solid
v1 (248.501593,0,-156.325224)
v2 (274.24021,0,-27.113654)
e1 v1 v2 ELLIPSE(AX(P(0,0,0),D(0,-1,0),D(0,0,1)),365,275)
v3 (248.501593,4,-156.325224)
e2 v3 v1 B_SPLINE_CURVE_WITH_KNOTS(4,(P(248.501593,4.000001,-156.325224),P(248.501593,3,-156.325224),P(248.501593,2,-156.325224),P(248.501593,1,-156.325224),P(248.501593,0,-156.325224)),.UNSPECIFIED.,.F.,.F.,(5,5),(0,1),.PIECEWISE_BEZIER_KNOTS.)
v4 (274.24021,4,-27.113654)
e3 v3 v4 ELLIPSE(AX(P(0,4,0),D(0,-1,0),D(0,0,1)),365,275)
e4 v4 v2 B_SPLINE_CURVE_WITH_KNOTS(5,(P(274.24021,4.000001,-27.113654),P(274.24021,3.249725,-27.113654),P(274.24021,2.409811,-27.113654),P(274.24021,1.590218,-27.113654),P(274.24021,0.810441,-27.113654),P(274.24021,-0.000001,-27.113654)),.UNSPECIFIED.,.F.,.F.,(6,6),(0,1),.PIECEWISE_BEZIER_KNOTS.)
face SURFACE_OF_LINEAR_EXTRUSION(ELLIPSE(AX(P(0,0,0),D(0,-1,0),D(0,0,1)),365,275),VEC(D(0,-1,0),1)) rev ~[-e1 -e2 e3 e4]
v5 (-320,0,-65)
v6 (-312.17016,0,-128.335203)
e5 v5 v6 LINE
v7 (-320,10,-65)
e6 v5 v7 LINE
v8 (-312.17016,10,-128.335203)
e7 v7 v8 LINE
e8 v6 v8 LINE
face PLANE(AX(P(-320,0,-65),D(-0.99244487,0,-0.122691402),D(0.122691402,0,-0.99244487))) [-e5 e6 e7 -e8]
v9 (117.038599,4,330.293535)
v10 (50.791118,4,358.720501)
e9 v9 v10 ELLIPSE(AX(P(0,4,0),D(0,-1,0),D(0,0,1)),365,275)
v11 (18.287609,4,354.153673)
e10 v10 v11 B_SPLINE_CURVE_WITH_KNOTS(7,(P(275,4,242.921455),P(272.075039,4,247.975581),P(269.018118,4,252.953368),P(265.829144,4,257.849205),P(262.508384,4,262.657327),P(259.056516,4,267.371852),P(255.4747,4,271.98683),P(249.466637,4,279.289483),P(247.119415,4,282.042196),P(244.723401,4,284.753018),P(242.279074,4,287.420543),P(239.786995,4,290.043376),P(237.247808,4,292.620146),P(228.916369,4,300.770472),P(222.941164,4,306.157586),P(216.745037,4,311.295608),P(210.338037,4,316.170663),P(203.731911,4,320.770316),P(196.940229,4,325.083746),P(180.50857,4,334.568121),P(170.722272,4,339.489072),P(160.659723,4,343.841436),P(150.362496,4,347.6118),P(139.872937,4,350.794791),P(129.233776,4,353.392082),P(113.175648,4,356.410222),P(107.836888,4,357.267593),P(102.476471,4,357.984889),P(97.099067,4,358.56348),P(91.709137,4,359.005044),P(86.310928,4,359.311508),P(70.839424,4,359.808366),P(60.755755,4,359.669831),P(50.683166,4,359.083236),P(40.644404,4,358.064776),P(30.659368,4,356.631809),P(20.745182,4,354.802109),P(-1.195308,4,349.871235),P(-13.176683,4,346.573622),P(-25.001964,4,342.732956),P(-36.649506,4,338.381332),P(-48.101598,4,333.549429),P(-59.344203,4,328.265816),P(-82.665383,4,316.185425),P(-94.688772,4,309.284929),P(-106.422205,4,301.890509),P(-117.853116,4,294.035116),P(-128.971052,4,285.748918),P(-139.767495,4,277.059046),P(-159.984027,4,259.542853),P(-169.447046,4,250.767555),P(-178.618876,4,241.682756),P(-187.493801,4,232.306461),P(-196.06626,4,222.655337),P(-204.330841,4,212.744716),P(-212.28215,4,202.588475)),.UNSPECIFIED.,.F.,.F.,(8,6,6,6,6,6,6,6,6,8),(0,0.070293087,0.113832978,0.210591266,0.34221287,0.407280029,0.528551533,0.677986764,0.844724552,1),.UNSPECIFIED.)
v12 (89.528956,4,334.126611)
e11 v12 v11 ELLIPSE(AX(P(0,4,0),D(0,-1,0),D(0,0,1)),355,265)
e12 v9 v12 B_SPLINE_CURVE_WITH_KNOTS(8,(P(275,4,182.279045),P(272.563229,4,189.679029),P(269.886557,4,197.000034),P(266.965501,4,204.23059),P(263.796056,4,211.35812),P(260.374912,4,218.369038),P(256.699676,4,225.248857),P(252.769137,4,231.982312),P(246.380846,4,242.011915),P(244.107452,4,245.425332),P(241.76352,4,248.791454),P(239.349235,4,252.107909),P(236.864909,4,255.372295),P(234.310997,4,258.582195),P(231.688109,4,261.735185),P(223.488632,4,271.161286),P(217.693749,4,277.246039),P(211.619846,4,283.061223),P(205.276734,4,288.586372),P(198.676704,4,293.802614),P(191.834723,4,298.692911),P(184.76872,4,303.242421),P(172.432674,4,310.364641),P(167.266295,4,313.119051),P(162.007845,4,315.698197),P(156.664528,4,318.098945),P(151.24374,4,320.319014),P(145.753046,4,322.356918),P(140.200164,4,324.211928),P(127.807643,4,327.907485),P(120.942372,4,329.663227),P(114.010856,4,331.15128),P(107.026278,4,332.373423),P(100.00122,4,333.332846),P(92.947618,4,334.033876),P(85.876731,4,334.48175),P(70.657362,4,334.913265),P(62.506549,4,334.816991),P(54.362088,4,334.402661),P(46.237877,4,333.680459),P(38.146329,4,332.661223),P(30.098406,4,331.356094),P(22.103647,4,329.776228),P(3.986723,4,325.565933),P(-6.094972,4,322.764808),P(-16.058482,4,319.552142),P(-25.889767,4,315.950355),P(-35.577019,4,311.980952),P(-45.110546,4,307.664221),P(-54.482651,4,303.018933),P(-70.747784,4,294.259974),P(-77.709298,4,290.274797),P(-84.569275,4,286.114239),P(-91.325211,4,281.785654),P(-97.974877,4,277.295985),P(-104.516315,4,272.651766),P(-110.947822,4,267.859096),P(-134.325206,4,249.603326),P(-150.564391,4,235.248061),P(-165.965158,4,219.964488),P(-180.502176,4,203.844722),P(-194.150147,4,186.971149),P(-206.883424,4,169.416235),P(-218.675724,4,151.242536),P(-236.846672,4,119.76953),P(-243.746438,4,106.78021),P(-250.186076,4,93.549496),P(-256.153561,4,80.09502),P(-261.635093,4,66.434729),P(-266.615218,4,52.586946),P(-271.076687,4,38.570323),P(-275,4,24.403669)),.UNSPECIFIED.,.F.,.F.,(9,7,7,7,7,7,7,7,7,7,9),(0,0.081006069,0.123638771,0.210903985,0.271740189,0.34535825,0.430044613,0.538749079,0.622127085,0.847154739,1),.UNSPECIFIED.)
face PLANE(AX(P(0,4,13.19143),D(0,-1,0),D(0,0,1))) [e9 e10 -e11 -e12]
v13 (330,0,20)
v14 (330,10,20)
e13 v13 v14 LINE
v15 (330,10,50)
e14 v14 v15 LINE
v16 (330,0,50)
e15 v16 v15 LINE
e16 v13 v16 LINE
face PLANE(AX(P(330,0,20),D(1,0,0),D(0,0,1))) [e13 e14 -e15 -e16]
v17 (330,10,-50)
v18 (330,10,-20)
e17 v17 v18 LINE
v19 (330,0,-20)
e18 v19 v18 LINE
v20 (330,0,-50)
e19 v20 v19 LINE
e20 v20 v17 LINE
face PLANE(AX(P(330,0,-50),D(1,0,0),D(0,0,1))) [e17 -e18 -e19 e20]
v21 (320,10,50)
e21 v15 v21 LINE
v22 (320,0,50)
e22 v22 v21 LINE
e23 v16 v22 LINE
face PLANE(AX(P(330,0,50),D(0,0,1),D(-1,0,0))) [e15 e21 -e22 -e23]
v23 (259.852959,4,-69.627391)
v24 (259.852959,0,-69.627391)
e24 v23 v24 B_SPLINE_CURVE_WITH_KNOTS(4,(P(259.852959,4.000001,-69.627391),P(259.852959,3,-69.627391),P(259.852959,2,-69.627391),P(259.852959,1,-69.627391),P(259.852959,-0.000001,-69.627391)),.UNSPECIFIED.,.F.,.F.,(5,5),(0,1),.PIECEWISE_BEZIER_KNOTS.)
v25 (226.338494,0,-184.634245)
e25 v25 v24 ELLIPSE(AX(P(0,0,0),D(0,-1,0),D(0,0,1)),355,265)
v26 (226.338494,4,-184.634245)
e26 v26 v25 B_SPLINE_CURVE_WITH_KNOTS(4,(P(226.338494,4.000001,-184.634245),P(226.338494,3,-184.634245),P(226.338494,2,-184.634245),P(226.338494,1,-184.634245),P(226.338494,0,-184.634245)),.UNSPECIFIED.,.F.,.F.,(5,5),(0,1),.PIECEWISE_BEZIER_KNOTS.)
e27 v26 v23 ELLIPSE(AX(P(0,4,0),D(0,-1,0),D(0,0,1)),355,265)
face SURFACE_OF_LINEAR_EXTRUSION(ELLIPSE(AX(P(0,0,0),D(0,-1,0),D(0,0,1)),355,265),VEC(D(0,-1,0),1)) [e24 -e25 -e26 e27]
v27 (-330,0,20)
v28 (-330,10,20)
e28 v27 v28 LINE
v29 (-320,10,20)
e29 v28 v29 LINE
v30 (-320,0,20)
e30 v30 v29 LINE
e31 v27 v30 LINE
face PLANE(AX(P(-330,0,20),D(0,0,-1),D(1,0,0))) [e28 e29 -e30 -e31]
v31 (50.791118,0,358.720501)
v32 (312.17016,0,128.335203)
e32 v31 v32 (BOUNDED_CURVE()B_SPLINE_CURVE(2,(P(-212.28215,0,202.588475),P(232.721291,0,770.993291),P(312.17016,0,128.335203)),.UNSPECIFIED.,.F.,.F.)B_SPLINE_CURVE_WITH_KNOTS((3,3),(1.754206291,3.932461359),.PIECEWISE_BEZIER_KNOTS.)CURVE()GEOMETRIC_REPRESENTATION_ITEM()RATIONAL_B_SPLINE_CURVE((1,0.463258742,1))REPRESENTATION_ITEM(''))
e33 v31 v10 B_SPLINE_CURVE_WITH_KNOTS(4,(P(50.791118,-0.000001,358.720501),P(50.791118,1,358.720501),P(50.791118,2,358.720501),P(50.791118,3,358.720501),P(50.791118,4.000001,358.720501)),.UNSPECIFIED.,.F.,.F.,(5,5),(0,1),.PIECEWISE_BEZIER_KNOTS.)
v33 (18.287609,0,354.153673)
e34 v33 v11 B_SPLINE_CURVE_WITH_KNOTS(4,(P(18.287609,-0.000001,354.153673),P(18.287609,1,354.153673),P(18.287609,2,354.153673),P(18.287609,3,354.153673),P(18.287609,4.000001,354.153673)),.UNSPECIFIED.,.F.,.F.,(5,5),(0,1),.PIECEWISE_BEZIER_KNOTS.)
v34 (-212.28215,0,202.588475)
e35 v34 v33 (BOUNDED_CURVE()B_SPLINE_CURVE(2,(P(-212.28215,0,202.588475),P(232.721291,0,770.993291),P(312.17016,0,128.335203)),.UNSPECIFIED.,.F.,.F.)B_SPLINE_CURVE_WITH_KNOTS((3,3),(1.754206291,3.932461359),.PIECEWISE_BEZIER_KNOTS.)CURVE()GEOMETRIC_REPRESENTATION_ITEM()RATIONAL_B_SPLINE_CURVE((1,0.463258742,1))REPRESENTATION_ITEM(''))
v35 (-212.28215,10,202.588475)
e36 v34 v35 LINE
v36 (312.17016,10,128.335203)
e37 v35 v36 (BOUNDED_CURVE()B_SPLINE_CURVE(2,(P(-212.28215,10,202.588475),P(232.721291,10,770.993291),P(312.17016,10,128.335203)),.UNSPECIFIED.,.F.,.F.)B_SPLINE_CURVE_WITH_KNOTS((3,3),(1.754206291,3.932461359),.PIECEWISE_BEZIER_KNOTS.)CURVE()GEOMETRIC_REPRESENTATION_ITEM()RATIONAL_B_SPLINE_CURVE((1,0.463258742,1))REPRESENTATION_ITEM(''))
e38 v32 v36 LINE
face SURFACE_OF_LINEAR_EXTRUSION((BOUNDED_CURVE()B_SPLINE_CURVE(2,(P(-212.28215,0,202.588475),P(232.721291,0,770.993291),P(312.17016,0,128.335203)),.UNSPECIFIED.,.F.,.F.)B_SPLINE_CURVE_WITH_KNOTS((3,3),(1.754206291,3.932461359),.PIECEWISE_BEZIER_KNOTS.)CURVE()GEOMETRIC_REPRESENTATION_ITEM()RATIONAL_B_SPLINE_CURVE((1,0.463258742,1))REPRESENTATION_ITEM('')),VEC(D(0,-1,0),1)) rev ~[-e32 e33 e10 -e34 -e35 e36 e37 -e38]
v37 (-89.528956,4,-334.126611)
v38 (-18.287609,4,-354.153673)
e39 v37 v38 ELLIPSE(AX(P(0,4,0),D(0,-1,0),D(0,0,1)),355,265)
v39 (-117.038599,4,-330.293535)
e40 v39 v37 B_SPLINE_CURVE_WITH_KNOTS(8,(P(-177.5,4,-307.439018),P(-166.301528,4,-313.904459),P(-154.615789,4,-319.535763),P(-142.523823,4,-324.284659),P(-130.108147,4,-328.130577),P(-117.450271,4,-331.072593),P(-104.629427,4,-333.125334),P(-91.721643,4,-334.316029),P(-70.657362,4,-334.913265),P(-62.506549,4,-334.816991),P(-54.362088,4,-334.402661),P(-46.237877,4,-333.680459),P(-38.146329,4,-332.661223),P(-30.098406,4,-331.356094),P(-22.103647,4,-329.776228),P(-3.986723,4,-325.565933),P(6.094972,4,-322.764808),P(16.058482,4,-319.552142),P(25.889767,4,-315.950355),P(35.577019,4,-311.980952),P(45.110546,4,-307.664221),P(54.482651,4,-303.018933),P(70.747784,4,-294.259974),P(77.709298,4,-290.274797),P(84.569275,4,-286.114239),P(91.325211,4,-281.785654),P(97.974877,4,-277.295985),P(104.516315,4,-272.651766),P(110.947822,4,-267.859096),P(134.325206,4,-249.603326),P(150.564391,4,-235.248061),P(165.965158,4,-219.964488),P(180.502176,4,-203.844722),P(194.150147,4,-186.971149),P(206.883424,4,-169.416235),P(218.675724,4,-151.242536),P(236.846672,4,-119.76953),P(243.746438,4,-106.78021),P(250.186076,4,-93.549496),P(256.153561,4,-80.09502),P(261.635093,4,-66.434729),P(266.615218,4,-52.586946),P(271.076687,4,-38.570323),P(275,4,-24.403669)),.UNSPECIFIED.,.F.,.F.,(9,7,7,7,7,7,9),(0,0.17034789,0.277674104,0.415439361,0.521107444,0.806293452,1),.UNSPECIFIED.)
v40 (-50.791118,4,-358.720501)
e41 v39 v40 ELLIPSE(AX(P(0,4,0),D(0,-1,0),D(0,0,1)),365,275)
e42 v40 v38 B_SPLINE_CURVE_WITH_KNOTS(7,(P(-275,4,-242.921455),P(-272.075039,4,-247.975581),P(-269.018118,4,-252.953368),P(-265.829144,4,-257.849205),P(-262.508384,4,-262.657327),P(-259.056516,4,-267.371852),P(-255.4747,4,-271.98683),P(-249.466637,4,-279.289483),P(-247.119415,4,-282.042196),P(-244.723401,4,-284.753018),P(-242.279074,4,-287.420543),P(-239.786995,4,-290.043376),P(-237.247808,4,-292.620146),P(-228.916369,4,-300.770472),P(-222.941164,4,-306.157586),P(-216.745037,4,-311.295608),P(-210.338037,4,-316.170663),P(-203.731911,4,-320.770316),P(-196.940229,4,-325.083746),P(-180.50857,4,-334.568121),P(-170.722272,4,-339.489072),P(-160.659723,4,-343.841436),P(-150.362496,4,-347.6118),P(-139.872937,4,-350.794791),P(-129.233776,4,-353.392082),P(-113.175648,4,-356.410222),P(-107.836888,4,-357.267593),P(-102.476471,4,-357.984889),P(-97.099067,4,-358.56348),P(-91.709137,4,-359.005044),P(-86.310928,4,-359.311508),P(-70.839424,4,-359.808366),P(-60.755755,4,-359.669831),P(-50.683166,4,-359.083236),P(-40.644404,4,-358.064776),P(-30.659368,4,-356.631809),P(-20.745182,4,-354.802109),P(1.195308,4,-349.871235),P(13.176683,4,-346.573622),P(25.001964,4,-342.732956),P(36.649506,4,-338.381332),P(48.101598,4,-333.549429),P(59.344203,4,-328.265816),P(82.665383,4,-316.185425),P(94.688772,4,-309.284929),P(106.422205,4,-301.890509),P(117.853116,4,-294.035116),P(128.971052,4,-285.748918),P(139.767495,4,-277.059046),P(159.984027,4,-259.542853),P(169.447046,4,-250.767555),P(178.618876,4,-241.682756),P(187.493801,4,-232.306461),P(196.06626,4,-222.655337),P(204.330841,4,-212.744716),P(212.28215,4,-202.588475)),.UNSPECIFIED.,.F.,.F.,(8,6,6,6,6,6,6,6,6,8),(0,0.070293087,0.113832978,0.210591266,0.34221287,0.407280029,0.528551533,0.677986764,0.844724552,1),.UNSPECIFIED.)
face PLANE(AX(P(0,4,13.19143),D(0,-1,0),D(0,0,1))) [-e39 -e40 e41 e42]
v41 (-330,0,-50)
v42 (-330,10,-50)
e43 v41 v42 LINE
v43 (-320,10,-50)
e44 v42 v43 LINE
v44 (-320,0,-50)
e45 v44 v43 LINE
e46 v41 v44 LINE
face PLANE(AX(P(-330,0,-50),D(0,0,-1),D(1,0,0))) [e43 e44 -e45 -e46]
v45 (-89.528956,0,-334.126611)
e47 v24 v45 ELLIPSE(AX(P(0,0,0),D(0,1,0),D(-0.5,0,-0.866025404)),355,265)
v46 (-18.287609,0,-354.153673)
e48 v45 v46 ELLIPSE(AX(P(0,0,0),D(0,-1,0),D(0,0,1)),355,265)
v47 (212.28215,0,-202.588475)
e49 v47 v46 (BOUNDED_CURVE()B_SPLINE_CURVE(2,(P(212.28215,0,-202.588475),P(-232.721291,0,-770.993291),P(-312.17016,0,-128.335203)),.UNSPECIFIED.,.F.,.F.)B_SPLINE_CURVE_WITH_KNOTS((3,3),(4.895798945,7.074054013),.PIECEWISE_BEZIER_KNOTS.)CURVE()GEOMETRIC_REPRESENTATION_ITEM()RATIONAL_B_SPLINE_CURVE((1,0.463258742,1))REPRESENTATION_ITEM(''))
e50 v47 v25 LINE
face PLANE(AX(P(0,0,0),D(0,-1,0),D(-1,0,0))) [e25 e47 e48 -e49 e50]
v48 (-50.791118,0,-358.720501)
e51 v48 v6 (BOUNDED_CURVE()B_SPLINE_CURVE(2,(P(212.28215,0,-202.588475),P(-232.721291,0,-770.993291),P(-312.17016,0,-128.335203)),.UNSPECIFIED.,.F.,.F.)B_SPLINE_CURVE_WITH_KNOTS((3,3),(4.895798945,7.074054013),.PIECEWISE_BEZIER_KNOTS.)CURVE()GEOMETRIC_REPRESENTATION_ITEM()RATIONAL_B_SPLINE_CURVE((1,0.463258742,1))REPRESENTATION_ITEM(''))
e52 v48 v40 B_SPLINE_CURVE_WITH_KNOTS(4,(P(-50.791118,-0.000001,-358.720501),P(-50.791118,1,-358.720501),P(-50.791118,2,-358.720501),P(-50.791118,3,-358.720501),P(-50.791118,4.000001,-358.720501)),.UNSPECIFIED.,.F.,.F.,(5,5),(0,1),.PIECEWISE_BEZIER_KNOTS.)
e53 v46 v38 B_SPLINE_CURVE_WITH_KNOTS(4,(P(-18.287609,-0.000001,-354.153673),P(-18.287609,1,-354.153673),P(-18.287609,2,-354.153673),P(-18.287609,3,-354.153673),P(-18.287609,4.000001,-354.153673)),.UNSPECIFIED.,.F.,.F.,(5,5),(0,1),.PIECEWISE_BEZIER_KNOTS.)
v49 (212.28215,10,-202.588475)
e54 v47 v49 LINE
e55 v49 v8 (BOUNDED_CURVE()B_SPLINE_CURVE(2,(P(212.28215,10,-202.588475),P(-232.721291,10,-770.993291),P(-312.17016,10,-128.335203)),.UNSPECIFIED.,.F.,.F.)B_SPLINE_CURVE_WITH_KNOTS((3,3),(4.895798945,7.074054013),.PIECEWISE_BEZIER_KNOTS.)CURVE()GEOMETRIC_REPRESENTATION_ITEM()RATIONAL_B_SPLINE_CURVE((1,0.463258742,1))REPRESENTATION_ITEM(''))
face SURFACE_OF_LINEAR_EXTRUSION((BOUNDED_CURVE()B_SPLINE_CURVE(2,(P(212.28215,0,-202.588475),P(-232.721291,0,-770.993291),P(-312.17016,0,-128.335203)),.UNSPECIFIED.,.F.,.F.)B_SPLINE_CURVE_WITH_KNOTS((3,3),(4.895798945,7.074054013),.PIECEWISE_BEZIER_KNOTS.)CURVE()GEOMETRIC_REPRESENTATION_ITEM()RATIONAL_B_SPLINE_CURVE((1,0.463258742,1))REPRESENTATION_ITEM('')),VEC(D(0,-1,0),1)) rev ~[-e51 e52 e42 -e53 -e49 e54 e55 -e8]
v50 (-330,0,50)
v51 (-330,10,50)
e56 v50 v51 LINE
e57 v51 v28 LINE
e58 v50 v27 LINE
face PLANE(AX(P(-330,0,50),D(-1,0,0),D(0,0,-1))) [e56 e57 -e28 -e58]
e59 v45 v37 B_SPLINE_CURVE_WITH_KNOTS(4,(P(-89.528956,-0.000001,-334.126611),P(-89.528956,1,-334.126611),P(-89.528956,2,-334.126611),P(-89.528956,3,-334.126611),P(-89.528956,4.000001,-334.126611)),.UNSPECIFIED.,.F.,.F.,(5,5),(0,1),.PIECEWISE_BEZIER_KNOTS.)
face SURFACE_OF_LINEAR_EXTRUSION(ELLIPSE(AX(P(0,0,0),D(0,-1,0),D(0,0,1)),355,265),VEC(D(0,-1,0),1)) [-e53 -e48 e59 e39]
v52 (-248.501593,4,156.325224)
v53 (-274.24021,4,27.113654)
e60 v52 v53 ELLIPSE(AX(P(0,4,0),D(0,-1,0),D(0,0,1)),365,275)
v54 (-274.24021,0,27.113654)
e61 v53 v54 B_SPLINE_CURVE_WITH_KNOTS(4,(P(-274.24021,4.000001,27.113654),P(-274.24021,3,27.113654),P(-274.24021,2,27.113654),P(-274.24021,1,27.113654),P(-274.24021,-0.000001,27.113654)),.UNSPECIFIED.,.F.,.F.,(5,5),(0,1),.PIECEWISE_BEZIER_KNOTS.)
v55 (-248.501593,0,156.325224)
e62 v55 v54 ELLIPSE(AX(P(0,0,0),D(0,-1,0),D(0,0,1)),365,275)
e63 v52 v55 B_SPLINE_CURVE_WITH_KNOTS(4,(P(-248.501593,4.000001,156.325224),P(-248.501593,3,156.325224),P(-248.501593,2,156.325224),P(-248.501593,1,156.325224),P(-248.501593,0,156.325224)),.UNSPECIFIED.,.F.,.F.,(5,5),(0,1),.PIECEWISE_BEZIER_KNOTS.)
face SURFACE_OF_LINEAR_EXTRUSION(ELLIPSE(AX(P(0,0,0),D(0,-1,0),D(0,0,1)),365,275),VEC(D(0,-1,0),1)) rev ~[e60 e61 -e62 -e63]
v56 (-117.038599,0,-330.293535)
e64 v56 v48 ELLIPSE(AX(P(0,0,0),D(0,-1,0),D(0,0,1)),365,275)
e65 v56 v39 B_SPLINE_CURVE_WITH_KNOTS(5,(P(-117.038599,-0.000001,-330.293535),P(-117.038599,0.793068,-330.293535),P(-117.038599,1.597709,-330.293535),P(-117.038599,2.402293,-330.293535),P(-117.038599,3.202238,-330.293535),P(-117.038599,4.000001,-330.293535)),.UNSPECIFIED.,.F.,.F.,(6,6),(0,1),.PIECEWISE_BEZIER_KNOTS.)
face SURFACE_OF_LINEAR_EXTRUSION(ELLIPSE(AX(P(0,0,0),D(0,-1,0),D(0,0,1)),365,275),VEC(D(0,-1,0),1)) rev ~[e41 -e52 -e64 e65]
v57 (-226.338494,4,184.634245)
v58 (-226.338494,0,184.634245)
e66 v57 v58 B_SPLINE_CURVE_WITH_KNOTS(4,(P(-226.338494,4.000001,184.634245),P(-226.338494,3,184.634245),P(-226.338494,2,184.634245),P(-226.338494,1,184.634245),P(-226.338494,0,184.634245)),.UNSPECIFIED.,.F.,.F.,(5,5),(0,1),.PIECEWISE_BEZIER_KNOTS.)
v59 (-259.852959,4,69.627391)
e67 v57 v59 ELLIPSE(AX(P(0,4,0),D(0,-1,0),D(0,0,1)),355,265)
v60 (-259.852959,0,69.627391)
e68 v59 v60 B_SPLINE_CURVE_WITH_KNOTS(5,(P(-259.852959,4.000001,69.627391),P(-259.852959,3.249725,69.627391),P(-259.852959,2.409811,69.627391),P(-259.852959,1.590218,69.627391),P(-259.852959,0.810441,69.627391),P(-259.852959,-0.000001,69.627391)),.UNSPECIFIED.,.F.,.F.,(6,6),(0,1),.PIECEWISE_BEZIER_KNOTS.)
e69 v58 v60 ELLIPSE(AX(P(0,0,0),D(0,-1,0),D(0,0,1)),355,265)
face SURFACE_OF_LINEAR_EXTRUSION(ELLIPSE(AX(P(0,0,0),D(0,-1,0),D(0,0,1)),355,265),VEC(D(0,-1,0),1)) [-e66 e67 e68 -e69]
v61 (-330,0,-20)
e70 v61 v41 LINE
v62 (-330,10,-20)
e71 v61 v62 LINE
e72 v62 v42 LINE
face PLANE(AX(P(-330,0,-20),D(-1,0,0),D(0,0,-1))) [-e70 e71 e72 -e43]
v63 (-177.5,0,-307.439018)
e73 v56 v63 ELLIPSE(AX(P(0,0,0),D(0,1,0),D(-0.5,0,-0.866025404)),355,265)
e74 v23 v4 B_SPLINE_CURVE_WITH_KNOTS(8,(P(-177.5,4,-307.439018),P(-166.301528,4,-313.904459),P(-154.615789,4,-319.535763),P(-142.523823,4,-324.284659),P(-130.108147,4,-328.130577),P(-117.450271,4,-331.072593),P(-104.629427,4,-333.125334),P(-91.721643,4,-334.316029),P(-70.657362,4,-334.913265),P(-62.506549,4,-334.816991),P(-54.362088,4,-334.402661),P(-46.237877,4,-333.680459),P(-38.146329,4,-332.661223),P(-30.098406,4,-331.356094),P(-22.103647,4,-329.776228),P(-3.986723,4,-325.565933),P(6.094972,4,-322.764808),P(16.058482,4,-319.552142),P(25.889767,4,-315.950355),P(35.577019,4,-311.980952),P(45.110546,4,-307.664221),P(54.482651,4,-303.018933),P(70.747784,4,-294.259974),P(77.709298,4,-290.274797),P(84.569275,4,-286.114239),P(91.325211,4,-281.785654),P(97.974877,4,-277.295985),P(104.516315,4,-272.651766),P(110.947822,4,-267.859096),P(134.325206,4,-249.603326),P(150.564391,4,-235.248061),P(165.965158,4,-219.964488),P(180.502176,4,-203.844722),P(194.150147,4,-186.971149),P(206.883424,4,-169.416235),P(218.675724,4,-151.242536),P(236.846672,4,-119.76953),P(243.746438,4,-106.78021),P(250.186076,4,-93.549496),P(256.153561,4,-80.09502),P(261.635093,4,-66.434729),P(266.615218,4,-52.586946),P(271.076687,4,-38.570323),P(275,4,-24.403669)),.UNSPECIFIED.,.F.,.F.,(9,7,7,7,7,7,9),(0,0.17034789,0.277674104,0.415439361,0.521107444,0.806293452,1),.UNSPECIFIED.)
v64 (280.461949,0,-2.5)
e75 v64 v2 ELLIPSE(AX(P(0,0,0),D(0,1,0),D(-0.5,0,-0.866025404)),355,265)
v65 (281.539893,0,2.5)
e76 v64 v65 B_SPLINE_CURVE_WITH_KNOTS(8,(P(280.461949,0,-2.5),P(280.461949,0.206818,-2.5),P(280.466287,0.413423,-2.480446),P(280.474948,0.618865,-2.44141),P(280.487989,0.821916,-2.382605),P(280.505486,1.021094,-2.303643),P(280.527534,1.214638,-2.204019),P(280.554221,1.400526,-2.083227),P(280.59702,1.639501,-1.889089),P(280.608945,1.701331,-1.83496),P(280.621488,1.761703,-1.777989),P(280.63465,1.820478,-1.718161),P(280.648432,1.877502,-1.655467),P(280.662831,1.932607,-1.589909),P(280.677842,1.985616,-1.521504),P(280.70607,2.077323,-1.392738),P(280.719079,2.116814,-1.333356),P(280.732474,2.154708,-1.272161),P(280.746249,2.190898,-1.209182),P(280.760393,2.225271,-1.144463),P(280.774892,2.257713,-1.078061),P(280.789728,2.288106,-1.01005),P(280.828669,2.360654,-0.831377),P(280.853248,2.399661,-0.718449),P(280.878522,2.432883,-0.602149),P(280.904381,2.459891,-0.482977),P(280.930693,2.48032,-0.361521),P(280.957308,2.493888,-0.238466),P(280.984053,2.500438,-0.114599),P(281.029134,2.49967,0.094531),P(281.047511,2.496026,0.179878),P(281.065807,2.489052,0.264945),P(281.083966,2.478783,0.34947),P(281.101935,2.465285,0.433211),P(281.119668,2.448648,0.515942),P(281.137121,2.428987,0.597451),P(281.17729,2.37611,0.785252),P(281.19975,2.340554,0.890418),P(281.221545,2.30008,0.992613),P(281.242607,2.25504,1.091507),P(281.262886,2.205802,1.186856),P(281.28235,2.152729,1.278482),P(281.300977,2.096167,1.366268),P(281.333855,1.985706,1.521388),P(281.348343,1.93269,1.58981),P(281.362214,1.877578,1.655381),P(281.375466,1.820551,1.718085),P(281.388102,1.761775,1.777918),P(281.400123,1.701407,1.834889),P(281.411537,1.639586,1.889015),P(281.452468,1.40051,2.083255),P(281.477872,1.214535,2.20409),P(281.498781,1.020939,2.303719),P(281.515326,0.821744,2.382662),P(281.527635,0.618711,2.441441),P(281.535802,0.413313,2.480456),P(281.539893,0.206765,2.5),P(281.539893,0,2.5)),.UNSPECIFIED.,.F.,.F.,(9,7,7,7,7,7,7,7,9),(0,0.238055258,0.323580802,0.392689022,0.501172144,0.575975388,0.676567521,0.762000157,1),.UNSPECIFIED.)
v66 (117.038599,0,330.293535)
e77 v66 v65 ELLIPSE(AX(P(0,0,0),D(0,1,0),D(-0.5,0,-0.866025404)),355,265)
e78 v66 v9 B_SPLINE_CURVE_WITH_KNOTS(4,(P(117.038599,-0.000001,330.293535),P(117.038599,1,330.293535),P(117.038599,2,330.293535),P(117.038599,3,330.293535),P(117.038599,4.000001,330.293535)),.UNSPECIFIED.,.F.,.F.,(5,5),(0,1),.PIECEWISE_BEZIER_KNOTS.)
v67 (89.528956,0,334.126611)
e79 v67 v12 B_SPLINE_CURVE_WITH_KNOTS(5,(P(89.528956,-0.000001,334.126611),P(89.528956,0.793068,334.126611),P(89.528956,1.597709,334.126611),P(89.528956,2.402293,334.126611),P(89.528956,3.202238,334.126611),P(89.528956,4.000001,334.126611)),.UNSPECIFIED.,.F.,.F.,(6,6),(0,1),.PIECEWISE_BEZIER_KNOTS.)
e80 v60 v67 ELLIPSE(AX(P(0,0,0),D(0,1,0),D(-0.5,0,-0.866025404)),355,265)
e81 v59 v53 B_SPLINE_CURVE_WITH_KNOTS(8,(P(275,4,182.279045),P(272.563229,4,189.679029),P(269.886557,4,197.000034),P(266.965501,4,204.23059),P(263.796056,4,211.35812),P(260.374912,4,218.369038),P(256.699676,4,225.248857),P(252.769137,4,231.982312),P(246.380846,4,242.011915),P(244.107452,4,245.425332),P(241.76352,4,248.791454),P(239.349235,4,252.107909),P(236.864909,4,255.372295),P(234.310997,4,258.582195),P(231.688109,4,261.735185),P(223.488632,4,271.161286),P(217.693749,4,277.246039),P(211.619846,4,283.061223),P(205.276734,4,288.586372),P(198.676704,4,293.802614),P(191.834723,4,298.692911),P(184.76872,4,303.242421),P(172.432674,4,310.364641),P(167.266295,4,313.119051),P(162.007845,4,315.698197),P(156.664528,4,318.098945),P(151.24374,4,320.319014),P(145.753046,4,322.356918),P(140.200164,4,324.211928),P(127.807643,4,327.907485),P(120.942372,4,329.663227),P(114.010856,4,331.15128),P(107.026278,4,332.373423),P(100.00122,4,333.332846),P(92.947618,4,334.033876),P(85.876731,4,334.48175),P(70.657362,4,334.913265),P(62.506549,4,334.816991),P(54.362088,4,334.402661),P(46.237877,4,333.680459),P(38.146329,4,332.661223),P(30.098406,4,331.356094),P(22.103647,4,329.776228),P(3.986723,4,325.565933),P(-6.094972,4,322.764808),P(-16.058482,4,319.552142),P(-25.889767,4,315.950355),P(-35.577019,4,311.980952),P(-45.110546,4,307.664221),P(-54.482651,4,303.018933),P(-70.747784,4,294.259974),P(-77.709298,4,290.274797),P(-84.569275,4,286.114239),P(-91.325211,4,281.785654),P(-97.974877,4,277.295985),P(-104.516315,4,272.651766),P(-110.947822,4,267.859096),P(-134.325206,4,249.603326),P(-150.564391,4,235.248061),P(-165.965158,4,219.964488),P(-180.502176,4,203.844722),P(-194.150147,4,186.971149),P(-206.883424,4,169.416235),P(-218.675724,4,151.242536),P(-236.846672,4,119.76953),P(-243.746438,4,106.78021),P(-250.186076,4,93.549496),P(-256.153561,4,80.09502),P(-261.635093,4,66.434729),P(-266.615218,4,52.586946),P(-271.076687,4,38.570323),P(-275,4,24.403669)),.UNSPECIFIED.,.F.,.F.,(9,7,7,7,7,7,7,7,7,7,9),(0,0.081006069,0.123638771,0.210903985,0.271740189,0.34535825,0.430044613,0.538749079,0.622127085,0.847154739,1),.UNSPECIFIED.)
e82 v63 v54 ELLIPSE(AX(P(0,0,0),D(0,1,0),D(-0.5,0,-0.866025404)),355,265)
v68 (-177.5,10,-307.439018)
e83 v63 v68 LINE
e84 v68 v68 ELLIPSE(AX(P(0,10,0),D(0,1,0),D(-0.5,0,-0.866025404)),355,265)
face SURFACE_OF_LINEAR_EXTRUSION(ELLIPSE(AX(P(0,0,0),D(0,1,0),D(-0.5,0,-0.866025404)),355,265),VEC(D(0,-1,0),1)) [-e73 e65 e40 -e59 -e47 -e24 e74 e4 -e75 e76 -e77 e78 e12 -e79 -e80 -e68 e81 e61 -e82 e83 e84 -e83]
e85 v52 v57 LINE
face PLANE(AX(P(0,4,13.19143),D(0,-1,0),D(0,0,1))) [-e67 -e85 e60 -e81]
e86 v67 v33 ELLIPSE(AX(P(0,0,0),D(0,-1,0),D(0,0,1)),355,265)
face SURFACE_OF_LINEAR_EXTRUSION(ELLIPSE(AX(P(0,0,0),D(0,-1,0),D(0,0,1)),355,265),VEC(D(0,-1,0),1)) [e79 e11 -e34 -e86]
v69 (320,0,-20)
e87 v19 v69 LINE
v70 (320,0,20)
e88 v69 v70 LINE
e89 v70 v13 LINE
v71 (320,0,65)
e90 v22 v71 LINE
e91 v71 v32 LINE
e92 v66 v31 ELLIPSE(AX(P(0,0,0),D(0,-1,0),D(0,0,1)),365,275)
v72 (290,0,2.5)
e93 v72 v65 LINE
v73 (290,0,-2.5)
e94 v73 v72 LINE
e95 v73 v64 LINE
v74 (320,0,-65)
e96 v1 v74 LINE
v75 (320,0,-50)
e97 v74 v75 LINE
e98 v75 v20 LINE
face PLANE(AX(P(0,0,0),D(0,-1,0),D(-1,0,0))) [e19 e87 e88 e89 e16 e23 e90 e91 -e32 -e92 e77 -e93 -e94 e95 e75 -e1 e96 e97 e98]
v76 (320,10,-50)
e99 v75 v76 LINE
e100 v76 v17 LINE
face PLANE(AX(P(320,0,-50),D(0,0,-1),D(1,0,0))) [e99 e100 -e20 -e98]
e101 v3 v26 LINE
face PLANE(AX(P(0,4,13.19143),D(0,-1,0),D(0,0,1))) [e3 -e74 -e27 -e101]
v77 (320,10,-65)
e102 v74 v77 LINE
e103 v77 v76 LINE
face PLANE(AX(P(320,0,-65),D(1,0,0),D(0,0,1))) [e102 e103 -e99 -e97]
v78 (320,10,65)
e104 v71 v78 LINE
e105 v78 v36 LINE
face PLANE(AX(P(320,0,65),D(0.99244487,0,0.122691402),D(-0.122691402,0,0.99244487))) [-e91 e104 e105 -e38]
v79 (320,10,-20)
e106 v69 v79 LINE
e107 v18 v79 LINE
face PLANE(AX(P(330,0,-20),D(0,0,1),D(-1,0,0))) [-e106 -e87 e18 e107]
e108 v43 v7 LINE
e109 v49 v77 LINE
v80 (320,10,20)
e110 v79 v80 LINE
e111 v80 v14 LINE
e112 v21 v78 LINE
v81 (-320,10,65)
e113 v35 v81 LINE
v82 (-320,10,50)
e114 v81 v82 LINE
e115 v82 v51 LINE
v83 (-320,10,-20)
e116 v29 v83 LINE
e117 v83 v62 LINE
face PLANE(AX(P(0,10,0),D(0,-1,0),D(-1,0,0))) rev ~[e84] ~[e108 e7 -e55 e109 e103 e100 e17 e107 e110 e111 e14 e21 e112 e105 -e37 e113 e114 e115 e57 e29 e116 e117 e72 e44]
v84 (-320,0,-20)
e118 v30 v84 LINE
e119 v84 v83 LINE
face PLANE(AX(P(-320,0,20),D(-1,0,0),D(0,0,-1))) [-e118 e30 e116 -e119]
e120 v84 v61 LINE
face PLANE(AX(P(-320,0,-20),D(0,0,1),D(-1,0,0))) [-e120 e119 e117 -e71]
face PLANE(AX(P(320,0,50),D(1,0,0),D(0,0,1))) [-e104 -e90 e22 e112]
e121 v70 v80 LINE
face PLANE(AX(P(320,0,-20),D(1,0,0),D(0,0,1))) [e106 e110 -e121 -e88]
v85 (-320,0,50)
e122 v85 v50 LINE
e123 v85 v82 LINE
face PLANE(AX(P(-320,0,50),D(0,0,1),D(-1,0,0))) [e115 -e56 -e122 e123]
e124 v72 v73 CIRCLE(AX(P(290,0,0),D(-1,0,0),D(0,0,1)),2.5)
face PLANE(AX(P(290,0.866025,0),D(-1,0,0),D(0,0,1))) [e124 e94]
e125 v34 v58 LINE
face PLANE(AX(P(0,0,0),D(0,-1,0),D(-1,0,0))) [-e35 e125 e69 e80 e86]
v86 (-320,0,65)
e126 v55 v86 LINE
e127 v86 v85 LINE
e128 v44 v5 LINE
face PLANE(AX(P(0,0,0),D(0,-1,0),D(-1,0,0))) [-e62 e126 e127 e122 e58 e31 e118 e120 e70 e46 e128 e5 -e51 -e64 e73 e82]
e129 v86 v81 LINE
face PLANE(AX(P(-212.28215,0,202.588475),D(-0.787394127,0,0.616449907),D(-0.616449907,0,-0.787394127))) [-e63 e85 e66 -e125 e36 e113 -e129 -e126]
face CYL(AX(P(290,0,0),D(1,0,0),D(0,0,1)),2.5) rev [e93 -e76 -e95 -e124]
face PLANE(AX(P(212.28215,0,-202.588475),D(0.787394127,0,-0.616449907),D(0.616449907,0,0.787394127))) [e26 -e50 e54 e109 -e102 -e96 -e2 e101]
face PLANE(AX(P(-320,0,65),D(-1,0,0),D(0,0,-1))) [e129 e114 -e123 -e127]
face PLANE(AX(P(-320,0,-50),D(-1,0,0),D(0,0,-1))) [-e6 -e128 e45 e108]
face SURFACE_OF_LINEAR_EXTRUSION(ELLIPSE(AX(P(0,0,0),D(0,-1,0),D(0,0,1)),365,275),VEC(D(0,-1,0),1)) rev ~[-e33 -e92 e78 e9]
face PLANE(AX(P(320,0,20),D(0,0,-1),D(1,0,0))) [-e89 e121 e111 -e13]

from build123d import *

# Parameters (mm, degrees)
SKETCH1_RX          = 355
SKETCH1_RY          = 265
BOSS_EXTRUDE1_DEPTH = 10
SKETCH2_RX          = 365
SKETCH2_RY          = 275
SKETCH2_RX_2        = 355
SKETCH2_RY_2        = 265
CUT_EXTRUDE1_DEPTH  = 4
CUT_EXTRUDE5_DEPTH  = 10


with BuildPart() as part:
    # Sketch1 → Boss-Extrude1 (new body)
    with BuildSketch(Plane(origin=(0, 0, 0), x_dir=(1, 0, 0), z_dir=(0, 1, 0))):
        with BuildLine():
            Line((-320, 50), (-320, 65))
            Line((-320, 65), (-312.170159719, 128.33520269))
            add(Edge.make_bspline(
                [(212.28214963, 202.588475219), (-232.721291269, 770.993291043), (-312.170159719, 128.33520269)],
                knots=[4.895798945, 4.895798945, 4.895798945, 7.074054013, 7.074054013, 7.074054013], degree=2, weights=[1, 0.463258742, 1]))
            Line((212.28214963, 202.588475219), (320, 65))
            Line((320, 65), (320, 50))
            Line((320, 50), (330, 50))
            Line((330, 50), (330, 20))
            Line((330, 20), (320, 20))
            Line((320, 20), (320, 0))
            Line((320, 0), (320, -20))
            Line((320, -20), (330, -20))
            Line((330, -20), (330, -50))
            Line((330, -50), (320, -50))
            Line((320, -50), (320, -65))
            Line((320, -65), (312.170159719, -128.33520269))
            add(Edge.make_bspline(
                [(-212.28214963, -202.588475219), (232.721291269, -770.993291043), (312.170159719, -128.33520269)],
                knots=[1.754206291, 1.754206291, 1.754206291, 3.932461359, 3.932461359, 3.932461359], degree=2, weights=[1, 0.463258742, 1]))
            Line((-212.28214963, -202.588475219), (-320, -65))
            Line((-320, -65), (-320, -50))
            Line((-320, -50), (-330, -50))
            Line((-330, -50), (-330, -20))
            Line((-330, -20), (-320, -20))
            Line((-320, -20), (-320, 0))
            Line((-320, 0), (-320, 20))
            Line((-320, 20), (-330, 20))
            Line((-330, 20), (-330, 50))
            Line((-330, 50), (-320, 50))
        make_face()
        with Locations(Location((0, 0), (0, 0, 120))):
            Ellipse(SKETCH1_RX, SKETCH1_RY, mode=Mode.SUBTRACT)
    extrude(amount=BOSS_EXTRUDE1_DEPTH)

    # Sketch2 → Cut-Extrude1 (cut)
    with BuildSketch(Plane.XZ):
        with Locations(Location((0, 0), (0, 0, 90))):
            Ellipse(SKETCH2_RX, SKETCH2_RY)
        with Locations(Location((0, 0), (0, 0, 90))):
            Ellipse(SKETCH2_RX_2, SKETCH2_RY_2, mode=Mode.SUBTRACT)
    extrude(amount=-CUT_EXTRUDE1_DEPTH, mode=Mode.SUBTRACT)

    # Sketch5 → Cut-Extrude5 (cut)
    with BuildSketch(Plane(origin=(290, 0, 0), x_dir=(0, 0, -1), z_dir=(1, 0, 0))):
        with BuildLine():
            Line((-2.5, 0), (2.5, 0))
            ThreePointArc((2.5, 0), (0, 2.5), (-2.5, 0))
        make_face()
    extrude(amount=-CUT_EXTRUDE5_DEPTH, mode=Mode.SUBTRACT)


solid = part.part
